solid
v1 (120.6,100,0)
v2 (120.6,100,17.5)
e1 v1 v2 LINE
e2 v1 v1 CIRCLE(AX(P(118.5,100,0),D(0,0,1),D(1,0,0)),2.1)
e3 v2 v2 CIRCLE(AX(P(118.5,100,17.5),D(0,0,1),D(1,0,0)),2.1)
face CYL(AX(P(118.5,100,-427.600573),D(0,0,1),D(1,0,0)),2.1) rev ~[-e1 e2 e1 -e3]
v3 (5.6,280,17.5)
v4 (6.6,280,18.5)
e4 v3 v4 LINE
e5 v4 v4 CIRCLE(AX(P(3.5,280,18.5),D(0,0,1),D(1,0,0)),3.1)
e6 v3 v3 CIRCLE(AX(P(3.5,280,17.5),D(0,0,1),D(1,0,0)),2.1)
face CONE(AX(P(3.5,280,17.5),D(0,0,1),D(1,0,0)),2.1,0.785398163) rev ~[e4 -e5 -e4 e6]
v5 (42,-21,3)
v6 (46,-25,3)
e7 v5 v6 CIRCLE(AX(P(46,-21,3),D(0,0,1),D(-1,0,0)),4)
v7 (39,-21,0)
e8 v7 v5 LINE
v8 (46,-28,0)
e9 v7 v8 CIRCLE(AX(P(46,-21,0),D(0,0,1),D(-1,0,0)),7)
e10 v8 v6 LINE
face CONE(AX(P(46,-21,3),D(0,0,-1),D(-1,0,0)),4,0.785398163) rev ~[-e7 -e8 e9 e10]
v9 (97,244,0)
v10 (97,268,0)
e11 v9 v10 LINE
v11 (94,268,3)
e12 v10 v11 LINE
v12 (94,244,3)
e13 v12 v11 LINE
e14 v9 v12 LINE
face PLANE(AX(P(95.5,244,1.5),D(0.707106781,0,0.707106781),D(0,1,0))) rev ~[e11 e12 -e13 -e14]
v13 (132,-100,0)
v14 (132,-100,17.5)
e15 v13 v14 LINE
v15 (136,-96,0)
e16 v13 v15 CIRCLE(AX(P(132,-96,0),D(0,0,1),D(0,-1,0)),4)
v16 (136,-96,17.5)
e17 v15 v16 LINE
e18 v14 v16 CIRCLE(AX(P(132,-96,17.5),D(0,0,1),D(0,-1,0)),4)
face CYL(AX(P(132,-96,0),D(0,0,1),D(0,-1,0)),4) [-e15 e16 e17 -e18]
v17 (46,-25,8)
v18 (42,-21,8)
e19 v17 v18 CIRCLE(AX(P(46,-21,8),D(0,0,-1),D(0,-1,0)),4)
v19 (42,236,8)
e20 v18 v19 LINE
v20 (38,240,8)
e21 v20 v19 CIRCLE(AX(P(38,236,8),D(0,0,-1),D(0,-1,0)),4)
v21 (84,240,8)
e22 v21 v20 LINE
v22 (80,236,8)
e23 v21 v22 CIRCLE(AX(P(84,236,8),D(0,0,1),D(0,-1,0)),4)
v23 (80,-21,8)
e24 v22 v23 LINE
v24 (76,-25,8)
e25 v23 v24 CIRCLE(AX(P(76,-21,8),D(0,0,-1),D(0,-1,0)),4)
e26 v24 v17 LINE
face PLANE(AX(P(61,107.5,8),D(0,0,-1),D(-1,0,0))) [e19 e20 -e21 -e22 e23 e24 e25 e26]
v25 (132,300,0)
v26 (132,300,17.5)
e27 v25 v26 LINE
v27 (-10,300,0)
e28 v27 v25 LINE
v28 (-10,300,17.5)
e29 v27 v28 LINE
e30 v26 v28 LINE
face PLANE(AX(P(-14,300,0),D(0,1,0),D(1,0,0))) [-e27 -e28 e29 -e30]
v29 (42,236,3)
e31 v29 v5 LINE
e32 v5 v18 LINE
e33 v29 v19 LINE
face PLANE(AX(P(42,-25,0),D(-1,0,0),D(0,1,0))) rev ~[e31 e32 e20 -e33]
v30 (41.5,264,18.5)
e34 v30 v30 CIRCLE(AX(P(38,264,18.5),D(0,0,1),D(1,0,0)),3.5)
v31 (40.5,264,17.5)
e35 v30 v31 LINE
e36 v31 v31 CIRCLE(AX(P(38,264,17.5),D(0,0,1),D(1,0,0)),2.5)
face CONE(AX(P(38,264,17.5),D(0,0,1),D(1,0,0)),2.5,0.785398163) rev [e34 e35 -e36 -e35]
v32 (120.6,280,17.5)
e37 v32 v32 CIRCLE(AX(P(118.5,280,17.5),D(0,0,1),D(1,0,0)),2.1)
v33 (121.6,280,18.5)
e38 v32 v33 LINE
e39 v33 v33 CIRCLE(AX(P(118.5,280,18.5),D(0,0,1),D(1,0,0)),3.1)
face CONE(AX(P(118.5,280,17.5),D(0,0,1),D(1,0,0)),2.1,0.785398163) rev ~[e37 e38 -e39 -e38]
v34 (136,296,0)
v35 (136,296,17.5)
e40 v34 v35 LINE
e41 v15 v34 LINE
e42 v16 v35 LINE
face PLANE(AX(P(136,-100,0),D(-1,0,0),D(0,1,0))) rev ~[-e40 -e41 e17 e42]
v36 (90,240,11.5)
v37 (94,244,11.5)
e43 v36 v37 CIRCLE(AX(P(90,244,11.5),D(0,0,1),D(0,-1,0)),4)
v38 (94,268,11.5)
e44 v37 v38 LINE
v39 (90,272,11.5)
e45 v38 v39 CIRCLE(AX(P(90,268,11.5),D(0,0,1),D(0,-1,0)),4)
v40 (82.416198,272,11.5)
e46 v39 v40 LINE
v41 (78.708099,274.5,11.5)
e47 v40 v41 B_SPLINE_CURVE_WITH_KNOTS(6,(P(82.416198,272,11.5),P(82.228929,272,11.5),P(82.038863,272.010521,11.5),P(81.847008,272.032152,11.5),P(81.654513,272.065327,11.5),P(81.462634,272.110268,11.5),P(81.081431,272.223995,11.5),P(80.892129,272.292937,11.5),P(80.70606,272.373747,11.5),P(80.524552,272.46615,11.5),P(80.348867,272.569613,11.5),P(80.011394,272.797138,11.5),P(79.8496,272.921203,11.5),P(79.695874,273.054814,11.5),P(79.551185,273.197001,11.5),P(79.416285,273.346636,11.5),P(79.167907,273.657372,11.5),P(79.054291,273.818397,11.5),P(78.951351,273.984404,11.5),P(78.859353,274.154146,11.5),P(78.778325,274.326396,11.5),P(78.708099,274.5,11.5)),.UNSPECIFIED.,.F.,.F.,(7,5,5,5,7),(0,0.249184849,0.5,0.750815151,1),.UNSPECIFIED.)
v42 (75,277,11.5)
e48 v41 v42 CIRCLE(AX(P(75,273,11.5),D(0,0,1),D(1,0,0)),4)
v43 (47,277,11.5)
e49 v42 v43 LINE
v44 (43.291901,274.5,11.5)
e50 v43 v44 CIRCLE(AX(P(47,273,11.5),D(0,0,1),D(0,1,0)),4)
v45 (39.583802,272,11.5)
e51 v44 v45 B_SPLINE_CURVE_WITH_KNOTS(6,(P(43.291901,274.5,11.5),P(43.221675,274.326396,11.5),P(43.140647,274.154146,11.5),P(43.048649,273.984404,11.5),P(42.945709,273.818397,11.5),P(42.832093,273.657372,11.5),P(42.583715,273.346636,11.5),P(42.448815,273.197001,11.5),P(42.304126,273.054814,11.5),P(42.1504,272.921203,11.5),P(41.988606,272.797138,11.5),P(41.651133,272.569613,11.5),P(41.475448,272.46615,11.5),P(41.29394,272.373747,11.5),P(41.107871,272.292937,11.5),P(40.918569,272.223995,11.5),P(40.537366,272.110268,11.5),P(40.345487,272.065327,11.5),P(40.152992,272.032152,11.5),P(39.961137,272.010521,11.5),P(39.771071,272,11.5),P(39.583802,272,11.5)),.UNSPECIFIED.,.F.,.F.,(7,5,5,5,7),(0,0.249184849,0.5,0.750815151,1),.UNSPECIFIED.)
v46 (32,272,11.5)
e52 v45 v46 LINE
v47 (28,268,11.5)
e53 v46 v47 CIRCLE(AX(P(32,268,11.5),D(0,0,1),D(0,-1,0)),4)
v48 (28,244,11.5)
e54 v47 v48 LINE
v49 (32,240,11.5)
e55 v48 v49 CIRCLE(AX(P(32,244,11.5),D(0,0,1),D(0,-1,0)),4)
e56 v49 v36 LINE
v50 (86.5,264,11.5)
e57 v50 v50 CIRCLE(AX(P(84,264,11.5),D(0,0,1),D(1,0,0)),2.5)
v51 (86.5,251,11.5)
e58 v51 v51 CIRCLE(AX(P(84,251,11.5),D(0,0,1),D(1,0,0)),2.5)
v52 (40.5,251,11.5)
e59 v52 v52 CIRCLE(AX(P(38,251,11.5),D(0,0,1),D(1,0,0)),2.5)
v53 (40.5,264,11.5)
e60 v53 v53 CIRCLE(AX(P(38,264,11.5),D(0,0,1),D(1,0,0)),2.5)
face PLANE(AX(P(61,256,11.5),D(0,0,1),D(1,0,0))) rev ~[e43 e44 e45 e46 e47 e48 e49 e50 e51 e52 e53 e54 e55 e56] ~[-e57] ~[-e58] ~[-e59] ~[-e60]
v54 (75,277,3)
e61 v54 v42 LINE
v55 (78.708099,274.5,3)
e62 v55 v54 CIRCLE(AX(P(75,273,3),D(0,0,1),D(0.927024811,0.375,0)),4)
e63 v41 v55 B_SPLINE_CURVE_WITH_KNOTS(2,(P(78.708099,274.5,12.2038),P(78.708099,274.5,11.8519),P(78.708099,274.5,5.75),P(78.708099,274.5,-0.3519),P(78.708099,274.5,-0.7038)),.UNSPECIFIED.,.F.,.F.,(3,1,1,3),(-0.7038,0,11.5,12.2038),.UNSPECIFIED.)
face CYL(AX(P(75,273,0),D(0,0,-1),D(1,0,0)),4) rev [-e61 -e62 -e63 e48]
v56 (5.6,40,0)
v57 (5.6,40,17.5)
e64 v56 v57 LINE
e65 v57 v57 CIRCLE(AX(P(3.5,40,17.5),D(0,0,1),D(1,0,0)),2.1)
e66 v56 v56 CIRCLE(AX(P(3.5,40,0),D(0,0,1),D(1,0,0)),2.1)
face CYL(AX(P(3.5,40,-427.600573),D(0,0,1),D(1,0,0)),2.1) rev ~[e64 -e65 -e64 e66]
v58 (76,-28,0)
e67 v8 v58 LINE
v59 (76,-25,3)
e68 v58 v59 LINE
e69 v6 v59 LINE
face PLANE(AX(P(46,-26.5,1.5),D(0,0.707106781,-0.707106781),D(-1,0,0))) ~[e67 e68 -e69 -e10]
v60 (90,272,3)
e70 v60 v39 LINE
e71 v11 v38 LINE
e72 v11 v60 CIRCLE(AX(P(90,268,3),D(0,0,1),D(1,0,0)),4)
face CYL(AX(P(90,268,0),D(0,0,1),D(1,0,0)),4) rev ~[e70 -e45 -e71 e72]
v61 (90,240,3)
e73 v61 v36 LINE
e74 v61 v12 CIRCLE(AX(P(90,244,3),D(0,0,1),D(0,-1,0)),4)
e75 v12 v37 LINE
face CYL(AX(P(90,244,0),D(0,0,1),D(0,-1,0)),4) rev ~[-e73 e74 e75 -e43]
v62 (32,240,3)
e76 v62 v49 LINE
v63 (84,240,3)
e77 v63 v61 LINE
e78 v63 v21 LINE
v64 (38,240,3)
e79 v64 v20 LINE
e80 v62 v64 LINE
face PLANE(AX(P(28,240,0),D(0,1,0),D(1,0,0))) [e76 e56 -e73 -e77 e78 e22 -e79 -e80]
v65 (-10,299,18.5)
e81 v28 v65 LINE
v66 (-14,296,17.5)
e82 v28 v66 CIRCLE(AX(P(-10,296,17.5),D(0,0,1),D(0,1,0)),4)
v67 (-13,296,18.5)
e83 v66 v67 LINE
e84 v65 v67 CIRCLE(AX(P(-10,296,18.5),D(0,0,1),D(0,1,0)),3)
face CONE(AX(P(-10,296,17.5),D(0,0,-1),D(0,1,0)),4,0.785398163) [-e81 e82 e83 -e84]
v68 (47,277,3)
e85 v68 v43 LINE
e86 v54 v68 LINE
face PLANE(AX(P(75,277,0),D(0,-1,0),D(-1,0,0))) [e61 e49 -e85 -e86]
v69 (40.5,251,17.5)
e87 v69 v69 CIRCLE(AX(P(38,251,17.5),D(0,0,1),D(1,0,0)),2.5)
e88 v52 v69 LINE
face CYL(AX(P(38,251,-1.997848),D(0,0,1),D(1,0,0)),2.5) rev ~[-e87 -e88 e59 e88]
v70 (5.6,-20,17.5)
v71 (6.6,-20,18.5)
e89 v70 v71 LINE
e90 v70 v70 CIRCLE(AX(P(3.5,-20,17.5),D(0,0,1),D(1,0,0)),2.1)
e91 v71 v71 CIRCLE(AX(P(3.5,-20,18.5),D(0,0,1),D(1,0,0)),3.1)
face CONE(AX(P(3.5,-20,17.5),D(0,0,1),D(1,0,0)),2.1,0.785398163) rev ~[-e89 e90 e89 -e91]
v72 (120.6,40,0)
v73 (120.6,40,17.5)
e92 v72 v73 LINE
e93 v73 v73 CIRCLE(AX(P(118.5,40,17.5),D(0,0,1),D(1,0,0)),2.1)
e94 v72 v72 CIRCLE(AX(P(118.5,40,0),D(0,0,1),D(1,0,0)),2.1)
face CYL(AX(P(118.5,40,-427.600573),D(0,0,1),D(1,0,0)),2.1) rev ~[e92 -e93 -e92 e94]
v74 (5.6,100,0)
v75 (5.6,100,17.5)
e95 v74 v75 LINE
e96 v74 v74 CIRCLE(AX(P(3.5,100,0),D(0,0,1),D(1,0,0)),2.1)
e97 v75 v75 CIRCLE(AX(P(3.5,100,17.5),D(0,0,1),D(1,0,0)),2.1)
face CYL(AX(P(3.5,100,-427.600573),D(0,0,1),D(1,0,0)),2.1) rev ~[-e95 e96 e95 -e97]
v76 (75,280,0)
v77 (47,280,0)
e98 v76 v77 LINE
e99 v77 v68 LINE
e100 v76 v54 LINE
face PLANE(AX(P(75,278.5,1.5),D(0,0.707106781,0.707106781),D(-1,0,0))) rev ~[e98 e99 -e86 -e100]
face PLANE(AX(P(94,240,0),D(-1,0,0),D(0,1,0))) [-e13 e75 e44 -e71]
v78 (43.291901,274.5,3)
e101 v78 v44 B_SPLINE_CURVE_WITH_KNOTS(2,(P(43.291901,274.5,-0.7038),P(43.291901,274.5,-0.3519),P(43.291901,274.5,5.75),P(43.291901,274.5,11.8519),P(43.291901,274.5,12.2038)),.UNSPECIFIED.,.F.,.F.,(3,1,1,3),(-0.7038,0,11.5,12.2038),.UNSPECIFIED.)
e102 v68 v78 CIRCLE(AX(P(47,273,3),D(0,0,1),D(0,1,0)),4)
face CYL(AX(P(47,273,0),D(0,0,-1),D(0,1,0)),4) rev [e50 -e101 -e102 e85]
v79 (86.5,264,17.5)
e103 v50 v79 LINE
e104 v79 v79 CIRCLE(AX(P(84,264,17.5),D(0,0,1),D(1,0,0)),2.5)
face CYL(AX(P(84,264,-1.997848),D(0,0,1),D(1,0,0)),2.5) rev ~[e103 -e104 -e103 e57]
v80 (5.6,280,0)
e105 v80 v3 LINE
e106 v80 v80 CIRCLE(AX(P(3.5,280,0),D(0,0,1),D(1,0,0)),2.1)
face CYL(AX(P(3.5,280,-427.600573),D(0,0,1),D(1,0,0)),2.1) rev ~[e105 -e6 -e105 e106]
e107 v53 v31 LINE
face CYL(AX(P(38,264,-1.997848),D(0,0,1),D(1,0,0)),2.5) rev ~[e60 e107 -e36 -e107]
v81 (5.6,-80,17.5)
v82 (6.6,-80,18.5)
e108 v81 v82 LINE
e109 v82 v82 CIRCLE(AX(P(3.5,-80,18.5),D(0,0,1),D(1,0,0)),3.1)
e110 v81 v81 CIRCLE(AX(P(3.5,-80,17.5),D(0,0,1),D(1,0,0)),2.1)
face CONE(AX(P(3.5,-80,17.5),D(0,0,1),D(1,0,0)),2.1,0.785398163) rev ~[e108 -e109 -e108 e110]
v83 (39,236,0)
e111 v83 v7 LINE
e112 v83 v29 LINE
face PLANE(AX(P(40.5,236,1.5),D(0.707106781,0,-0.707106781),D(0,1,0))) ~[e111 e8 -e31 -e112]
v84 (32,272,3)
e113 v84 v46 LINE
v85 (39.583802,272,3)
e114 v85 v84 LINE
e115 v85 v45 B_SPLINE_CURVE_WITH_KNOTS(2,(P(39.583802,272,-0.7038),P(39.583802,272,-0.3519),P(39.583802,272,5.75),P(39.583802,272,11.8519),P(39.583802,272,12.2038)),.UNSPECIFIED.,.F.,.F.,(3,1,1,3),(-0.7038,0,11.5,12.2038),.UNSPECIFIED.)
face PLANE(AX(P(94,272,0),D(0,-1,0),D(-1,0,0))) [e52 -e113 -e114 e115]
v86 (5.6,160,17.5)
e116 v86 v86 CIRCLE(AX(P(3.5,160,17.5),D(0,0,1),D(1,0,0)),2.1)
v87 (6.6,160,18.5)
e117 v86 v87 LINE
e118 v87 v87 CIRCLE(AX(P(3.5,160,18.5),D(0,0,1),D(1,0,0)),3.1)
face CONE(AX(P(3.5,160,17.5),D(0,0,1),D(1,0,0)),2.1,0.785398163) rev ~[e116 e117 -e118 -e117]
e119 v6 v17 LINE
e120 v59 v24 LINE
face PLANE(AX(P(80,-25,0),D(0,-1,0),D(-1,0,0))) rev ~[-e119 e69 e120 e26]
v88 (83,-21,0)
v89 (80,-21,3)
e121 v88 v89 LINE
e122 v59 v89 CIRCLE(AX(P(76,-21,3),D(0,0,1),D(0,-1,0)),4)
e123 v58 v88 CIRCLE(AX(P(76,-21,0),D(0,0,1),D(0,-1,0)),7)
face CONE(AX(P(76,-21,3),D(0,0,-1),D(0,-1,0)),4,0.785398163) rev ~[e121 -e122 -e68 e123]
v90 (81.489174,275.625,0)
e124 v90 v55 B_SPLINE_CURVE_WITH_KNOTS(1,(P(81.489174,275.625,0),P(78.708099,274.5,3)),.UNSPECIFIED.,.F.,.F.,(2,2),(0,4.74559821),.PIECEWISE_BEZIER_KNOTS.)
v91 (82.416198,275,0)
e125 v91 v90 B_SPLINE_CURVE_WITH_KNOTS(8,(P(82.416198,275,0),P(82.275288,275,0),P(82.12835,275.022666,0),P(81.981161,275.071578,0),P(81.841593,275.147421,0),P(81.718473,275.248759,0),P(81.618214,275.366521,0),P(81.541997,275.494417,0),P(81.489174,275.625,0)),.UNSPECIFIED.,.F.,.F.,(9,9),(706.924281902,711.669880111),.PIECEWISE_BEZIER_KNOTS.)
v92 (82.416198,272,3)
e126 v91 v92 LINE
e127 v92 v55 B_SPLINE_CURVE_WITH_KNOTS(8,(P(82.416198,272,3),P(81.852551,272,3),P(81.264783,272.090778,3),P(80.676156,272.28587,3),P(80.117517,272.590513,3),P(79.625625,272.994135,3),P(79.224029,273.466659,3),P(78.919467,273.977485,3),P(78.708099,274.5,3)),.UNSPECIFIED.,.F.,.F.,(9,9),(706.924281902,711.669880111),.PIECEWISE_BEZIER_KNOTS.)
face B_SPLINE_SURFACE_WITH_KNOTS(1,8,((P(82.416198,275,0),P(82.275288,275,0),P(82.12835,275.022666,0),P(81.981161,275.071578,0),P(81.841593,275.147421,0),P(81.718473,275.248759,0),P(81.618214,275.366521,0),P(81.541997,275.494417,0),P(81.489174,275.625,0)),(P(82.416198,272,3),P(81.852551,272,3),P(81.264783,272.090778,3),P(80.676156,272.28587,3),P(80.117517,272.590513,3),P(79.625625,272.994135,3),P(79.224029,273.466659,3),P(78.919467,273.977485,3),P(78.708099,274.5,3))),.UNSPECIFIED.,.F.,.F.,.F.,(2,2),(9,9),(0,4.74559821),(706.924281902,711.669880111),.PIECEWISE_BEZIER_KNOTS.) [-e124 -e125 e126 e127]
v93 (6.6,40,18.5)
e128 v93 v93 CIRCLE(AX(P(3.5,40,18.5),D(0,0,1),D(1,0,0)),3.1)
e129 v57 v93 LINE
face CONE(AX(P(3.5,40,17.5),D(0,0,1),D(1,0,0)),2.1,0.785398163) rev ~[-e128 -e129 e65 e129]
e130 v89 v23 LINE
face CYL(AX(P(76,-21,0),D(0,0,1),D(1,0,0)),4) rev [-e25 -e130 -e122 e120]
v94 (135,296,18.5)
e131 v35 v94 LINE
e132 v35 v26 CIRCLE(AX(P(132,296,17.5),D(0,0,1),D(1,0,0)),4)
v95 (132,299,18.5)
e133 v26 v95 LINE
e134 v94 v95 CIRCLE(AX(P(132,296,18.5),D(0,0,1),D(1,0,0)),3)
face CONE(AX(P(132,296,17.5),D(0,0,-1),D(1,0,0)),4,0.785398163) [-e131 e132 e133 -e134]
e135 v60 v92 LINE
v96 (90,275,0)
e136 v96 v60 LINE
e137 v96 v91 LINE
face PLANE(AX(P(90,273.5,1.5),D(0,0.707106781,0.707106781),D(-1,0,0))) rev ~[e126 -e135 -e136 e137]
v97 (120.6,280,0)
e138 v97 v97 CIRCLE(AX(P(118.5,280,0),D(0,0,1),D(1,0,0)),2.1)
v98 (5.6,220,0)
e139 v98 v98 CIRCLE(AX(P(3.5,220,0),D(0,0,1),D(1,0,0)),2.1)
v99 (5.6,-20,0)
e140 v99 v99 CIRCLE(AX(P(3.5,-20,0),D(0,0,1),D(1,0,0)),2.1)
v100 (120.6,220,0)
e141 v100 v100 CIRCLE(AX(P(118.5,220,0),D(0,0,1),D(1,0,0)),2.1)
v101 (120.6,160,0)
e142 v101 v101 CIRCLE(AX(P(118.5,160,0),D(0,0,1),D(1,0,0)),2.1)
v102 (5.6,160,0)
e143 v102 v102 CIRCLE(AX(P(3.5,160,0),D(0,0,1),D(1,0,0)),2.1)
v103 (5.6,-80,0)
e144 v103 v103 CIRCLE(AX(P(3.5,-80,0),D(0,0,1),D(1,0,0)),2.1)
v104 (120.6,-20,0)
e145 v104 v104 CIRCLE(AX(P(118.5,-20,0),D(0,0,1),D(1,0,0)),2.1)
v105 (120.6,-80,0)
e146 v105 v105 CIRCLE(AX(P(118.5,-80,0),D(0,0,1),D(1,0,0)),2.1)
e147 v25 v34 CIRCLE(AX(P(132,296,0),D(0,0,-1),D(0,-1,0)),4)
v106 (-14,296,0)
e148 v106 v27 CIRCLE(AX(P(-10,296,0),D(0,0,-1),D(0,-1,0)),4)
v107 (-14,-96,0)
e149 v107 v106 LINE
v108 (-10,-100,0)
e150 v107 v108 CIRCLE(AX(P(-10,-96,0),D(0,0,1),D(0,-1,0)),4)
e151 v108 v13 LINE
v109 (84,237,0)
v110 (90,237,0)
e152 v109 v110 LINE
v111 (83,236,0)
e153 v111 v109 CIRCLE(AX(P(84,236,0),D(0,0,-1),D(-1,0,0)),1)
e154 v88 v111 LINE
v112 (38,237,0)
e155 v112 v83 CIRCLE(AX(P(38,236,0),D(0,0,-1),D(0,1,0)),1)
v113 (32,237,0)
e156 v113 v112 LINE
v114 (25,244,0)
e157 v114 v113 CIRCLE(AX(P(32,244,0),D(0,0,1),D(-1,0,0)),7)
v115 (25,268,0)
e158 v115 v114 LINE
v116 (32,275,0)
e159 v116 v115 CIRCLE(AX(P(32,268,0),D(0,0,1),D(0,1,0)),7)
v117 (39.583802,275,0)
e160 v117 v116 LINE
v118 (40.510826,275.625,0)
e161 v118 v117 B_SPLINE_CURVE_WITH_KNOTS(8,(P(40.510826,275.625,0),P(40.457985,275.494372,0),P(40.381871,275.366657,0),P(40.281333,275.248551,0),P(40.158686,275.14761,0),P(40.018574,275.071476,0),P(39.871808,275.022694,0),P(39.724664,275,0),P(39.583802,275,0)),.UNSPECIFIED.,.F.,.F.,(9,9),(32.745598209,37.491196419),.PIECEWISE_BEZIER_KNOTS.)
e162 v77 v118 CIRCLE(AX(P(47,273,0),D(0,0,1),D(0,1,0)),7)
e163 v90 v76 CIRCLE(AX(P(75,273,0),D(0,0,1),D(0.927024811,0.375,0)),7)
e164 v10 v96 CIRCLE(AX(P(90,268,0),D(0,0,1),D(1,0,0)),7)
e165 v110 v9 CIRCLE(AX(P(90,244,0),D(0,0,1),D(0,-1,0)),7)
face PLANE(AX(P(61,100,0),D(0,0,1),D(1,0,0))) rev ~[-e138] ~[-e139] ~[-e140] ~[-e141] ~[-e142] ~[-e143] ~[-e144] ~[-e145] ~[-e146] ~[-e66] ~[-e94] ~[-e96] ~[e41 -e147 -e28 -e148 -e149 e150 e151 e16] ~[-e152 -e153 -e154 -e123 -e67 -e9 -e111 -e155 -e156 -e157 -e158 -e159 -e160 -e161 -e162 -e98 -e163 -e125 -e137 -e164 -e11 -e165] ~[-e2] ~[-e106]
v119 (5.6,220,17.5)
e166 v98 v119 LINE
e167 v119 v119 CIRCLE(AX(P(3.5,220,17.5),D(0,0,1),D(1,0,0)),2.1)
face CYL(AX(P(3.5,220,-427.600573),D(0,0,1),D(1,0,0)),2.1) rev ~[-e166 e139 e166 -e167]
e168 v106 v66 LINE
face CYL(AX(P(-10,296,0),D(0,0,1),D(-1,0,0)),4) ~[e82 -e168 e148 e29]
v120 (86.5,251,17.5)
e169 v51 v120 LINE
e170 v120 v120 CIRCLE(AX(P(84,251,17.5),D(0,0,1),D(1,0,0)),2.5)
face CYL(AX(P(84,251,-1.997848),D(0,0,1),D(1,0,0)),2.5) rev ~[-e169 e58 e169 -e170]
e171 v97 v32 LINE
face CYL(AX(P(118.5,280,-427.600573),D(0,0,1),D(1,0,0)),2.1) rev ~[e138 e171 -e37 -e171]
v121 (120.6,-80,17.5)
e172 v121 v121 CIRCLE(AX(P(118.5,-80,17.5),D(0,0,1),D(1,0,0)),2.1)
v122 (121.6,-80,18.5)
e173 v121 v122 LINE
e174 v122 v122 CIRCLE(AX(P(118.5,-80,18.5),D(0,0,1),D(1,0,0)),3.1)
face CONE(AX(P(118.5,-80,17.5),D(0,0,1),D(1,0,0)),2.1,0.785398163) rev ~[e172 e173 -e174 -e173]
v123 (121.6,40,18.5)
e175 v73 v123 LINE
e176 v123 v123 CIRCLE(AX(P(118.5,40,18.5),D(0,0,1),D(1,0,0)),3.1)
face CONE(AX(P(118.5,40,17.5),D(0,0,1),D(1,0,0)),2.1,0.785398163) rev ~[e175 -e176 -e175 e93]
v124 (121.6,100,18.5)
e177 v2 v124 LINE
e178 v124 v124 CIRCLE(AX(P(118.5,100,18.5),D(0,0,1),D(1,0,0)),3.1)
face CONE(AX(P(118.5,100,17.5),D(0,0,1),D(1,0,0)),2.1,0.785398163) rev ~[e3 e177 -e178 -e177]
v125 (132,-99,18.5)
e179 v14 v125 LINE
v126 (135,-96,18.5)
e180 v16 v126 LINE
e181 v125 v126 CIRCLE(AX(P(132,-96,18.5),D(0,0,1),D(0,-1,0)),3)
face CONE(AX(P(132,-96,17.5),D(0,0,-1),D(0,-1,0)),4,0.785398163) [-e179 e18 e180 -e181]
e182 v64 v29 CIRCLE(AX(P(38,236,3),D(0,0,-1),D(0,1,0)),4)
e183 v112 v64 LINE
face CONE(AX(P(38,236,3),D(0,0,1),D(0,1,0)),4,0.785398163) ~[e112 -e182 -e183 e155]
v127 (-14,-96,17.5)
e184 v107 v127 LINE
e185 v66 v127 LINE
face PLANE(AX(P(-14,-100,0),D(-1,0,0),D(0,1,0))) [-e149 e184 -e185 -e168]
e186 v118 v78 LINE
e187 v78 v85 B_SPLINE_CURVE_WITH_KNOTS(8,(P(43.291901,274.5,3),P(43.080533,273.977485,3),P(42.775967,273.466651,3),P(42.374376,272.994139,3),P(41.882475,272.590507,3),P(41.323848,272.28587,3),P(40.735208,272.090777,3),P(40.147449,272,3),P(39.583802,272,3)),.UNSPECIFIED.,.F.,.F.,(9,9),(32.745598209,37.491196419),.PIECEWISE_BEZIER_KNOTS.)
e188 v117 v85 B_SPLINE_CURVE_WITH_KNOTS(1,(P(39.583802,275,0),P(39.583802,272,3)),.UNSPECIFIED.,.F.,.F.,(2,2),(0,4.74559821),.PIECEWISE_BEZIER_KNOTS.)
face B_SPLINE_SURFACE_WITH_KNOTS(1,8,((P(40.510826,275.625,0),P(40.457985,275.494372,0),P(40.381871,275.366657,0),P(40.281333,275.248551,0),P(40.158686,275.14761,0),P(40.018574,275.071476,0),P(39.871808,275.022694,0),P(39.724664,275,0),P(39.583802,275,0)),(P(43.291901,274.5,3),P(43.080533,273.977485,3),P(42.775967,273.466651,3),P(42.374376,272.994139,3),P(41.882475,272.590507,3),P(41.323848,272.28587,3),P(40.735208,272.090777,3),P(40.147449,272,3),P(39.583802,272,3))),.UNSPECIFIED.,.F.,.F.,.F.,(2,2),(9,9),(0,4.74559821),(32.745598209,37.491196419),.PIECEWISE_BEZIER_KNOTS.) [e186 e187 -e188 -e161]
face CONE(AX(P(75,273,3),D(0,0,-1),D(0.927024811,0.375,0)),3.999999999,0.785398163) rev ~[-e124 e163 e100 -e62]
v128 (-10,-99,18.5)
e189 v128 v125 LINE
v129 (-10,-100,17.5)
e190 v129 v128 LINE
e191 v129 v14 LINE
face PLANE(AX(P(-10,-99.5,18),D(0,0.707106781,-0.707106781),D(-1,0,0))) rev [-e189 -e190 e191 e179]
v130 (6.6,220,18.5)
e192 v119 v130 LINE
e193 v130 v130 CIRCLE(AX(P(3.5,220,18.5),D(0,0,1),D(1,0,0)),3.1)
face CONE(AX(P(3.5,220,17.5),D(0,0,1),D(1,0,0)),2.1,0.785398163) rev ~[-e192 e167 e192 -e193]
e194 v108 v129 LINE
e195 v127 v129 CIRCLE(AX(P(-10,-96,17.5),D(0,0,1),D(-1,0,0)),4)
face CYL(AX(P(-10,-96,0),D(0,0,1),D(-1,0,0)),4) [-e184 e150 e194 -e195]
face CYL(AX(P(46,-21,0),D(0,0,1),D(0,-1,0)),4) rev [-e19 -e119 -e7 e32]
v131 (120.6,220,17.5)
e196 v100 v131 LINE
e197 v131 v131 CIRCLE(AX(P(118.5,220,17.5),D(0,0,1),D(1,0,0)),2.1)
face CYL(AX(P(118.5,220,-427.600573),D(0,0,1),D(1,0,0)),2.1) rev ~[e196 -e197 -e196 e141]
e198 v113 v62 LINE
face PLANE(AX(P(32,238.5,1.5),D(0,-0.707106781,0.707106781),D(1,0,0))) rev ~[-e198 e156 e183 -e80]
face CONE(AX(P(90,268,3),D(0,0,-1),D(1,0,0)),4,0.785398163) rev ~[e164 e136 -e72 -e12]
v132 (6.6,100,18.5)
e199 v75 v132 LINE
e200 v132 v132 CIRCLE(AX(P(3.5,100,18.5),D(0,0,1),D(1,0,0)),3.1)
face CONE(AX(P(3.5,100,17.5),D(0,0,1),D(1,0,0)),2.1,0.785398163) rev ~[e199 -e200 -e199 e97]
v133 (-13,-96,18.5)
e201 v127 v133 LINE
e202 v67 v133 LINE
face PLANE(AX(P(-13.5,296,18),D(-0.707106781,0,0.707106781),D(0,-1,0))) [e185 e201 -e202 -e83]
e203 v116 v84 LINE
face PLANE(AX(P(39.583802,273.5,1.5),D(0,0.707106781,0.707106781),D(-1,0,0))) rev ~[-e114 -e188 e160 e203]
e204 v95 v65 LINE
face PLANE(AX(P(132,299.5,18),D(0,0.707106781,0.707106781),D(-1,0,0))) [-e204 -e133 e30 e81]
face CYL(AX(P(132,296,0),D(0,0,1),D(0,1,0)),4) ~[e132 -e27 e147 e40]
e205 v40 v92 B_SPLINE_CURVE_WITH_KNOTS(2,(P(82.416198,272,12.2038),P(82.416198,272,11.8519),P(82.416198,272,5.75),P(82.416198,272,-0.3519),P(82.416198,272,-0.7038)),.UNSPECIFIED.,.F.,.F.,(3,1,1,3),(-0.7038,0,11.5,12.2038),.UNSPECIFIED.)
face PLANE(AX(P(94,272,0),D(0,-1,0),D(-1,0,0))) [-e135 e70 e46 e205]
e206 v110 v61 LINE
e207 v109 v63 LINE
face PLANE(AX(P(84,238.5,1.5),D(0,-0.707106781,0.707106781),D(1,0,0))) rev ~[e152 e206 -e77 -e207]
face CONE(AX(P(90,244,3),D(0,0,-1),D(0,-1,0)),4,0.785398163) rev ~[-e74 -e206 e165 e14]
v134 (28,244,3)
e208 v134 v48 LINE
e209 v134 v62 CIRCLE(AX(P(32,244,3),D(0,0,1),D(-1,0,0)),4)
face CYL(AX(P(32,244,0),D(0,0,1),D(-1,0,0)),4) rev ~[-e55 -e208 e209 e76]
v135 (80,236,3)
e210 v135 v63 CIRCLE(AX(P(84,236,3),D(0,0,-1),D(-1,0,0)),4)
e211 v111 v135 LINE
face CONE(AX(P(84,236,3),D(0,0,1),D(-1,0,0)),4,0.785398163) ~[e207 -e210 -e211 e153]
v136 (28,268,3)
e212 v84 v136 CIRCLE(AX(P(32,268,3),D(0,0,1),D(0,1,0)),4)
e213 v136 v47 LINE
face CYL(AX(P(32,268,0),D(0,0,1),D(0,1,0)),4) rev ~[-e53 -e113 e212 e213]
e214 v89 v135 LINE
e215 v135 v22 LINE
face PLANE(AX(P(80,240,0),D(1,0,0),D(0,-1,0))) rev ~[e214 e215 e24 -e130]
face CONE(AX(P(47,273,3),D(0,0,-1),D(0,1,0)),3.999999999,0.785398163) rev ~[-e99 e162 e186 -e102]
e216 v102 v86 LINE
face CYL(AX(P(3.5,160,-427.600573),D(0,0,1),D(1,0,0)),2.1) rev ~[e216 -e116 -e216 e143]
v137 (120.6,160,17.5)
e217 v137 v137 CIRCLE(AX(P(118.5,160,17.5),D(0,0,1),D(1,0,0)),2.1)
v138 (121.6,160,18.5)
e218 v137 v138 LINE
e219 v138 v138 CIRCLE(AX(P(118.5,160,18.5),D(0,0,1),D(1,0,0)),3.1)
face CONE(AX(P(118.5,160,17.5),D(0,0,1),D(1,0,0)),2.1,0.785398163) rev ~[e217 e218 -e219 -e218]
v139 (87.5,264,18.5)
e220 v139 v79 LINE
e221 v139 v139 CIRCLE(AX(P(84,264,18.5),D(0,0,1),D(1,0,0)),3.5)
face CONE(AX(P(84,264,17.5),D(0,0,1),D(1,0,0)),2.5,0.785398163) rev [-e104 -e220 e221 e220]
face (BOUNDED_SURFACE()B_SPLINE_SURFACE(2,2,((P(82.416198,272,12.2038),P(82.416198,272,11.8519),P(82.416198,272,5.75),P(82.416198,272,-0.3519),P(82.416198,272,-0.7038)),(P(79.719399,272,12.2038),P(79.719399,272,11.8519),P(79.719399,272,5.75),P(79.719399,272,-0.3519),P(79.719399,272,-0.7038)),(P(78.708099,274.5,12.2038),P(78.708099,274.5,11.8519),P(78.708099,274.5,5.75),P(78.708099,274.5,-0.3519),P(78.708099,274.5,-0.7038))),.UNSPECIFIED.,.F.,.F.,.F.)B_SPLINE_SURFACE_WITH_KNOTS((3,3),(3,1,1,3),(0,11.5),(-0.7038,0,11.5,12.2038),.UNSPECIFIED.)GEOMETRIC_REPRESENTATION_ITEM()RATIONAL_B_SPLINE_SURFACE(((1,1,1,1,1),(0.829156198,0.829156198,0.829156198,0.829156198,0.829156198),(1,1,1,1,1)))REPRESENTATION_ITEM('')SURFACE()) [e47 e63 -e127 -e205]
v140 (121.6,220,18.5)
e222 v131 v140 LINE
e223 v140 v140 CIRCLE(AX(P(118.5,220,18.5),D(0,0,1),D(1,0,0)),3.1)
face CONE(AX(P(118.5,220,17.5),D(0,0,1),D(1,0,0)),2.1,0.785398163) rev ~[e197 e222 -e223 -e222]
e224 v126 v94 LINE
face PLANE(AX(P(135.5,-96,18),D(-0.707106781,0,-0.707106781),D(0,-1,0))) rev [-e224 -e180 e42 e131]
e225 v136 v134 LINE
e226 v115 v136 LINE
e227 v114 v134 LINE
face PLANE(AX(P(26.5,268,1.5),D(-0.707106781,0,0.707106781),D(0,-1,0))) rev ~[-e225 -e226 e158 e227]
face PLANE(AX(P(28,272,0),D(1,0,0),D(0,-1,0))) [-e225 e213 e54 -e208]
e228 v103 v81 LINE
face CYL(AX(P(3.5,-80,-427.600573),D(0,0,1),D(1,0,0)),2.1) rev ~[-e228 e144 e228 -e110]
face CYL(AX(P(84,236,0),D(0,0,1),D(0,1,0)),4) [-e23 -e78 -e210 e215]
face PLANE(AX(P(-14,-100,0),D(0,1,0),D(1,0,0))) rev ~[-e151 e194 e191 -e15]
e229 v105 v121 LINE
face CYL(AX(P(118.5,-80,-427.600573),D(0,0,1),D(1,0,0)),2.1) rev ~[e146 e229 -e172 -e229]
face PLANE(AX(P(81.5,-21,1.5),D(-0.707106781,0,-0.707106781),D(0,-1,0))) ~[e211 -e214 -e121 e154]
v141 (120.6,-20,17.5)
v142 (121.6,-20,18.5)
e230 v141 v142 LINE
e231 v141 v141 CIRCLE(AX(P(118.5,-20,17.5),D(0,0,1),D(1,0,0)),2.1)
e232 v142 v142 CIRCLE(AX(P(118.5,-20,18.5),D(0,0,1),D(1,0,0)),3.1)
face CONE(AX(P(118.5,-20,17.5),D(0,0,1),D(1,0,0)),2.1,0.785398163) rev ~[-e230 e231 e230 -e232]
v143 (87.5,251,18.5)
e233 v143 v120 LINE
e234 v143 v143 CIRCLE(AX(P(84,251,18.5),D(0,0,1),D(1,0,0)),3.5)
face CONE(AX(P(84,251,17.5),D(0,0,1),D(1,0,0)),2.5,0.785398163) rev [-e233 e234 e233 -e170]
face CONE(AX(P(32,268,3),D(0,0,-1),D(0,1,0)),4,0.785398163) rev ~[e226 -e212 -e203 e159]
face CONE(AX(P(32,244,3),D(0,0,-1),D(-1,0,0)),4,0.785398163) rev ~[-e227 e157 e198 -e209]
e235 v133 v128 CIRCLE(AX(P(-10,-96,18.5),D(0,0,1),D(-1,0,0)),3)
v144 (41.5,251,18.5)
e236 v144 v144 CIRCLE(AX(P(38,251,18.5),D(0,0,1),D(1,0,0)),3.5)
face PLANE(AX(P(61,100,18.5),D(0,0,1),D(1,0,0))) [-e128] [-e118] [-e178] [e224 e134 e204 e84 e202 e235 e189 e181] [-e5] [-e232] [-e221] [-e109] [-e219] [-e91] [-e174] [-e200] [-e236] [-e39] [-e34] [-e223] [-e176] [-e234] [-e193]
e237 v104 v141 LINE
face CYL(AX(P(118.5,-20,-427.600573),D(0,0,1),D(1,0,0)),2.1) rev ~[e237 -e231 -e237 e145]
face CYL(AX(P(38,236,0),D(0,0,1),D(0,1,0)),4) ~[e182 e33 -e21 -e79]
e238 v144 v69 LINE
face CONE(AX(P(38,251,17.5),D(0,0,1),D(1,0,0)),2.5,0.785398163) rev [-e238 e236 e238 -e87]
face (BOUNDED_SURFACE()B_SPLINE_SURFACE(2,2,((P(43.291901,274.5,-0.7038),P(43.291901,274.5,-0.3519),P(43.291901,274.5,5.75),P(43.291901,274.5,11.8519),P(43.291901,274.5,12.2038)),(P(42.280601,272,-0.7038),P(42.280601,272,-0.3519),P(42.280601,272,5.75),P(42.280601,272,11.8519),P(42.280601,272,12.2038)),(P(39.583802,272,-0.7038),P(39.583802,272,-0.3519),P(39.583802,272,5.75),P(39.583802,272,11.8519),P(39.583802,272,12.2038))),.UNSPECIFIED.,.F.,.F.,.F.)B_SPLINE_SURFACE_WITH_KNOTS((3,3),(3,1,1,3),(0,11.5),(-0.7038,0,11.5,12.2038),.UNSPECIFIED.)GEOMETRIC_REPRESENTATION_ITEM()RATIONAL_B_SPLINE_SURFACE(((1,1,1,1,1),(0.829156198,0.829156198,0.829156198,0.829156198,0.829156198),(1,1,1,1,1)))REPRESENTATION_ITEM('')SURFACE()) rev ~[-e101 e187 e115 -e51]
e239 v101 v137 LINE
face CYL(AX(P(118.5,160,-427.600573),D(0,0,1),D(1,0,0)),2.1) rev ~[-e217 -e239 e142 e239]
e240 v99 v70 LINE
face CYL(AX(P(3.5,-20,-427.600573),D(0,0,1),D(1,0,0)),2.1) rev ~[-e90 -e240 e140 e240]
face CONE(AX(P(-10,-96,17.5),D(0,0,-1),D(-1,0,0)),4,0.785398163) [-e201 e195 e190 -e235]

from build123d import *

# Parameters (mm, degrees)
SKETCH1_W                 = 150
SKETCH1_H                 = 400
BOSS_EXTRUDE1_DEPTH       = 18.5
CUT_EXTRUDE1_DEPTH        = 11.5
FILLET1_R                 = 4
CUT_EXTRUDE3_DEPTH        = 8
M6X1_0_TAPPED_HOLE1_D     = 5
M6X1_0_TAPPED_HOLE1_DEPTH = 13.497848452
M6X1_0_TAPPED_HOLE1_TIP   = 1.502151548
CUT_EXTRUDE4_DEPTH        = 11.5
FILLET3_R                 = 4
M5X0_8_TAPPED_HOLE1_D     = 4.2
FILLET5_R                 = 4
CHAMFER2_SIZE             = 1
FILLET6_R                 = 4
CHAMFER3_SIZE             = 3


with BuildPart() as part:
    # Sketch1 → Boss-Extrude1 (new body)
    with BuildSketch(Plane.XY):
        with Locations((61, 100)):
            Rectangle(SKETCH1_W, SKETCH1_H)
    extrude(amount=BOSS_EXTRUDE1_DEPTH)

    # Sketch2 → Cut-Extrude1 (cut)
    with BuildSketch(Plane.XY):
        Polygon((61, 272), (28, 272), (28, 270), (28, 240), (94, 240), (94, 270), (94, 272), align=None)
    extrude(amount=CUT_EXTRUDE1_DEPTH, mode=Mode.SUBTRACT)

    # Fillet1
    fillet1_edges = [part.edges().sort_by_distance(p)[0] for p in [
        (28, 240, 5.75),
        (94, 240, 5.75),
    ]]
    fillet(fillet1_edges, radius=FILLET1_R)

    # Sketch6 → Cut-Extrude3 (cut)
    with BuildSketch(Plane(origin=(0, 0, 0), x_dir=(-1, 0, 0), z_dir=(0, 0, -1))):
        Polygon((-46, 240), (-76, 240), (-79, 240), (-80, 240), (-80, 50), (-80, 44), (-80, -9), (-80, -25), (-42, -25), (-42, -9), (-42, 44), (-42, 50), (-42, 240), (-43, 240), align=None)
    extrude(amount=-CUT_EXTRUDE3_DEPTH, mode=Mode.SUBTRACT)

    # M6x1.0 Tapped Hole1
    with Locations(Plane(origin=(0, 0, 11.5), x_dir=(-1, 0, 0), z_dir=(0, 0, -1))):
        with Locations((-84, 264), (-38, 264), (-38, 251), (-84, 251)):
            Hole(M6X1_0_TAPPED_HOLE1_D / 2, depth=M6X1_0_TAPPED_HOLE1_DEPTH)
            with Locations((0, 0, -(M6X1_0_TAPPED_HOLE1_DEPTH + M6X1_0_TAPPED_HOLE1_TIP / 2))):  # 118° drill point
                Cone(0, M6X1_0_TAPPED_HOLE1_D / 2, M6X1_0_TAPPED_HOLE1_TIP, mode=Mode.SUBTRACT)

    # Sketch11 → Cut-Extrude4 (cut)
    with BuildSketch(Plane(origin=(0, 0, 0), x_dir=(-1, 0, 0), z_dir=(0, 0, -1))):
        with BuildLine():
            Line((-61, 262), (-79, 262))
            Line((-79, 262), (-79, 273))
            ThreePointArc((-79, 273), (-77.828427125, 275.828427125), (-75, 277))
            Line((-75, 277), (-47, 277))
            ThreePointArc((-47, 277), (-44.171572875, 275.828427125), (-43, 273))
            Line((-43, 273), (-43, 262))
            Line((-43, 262), (-61, 262))
        make_face()
    extrude(amount=-CUT_EXTRUDE4_DEPTH, mode=Mode.SUBTRACT)

    # Fillet3
    fillet3_edges = [part.edges().sort_by_distance(p)[0] for p in [
        (28, 272, 5.75),
        (94, 272, 5.75),
        (43, 272, 5.75),
        (79, 272, 5.75),
    ]]
    fillet(fillet3_edges, radius=FILLET3_R)

    # M5x0.8 Tapped Hole1 (through all)
    with Locations(Plane(origin=(0, 0, 0), x_dir=(-1, 0, 0), z_dir=(0, 0, -1))):
        with Locations((-118.5, 280), (-3.5, 280), (-118.5, 220), (-3.5, 220), (-3.5, 160), (-118.5, 160), (-118.5, 100), (-3.5, 100), (-3.5, 40), (-118.5, 40), (-3.5, -20), (-118.5, -20), (-118.5, -80), (-3.5, -80)):
            Hole(M5X0_8_TAPPED_HOLE1_D / 2)

    # Fillet5
    fillet5_edges = [part.edges().sort_by_distance(p)[0] for p in [
        (-14, 300, 9.25),
        (136, 300, 9.25),
        (136, -100, 9.25),
        (-14, -100, 9.25),
    ]]
    fillet(fillet5_edges, radius=FILLET5_R)

    # Chamfer2
    chamfer2_edges = [part.edges().sort_by_distance(p)[0] for p in [
        (1.4, -80, 18.5),
        (116.4, -80, 18.5),
        (116.4, -20, 18.5),
        (1.4, -20, 18.5),
        (116.4, 40, 18.5),
        (1.4, 40, 18.5),
        (1.4, 100, 18.5),
        (116.4, 100, 18.5),
        (116.4, 160, 18.5),
        (1.4, 160, 18.5),
        (1.4, 220, 18.5),
        (116.4, 220, 18.5),
        (1.4, 280, 18.5),
        (116.4, 280, 18.5),
        (61, -100, 18.5),
        (-14, 100, 18.5),
        (136, 100, 18.5),
        (61, 300, 18.5),
        (-12.828427125, 298.828427125, 18.5),
        (134.828427125, 298.828427125, 18.5),
        (134.828427125, -98.828427125, 18.5),
        (-12.828427125, -98.828427125, 18.5),
        (81.5, 251, 18.5),
        (35.5, 251, 18.5),
        (35.5, 264, 18.5),
        (81.5, 264, 18.5),
    ]]
    chamfer(chamfer2_edges, length=CHAMFER2_SIZE)

    # Fillet6
    fillet6_edges = [part.edges().sort_by_distance(p)[0] for p in [
        (42, 240, 4),
        (42, -25, 4),
        (80, -25, 4),
        (80, 240, 4),
    ]]
    fillet(fillet6_edges, radius=FILLET6_R)

    # Chamfer3
    chamfer3_edges = [part.edges().sort_by_distance(p)[0] for p in [
        (61, 277, 0),
        (77.236067977, 276.31662479, 0),
        (44.763932023, 276.31662479, 0),
        (86.208099244, 272, 0),
        (35.791900756, 272, 0),
        (28, 256, 0),
        (80.18013051, 272.68337521, 0),
        (41.81986949, 272.68337521, 0),
        (29.171572875, 270.828427125, 0),
        (92.828427125, 270.828427125, 0),
        (35, 240, 0),
        (94, 256, 0),
        (92.828427125, 241.171572875, 0),
        (29.171572875, 241.171572875, 0),
        (87, 240, 0),
        (42, 107.5, 0),
        (61, -25, 0),
        (80, 107.5, 0),
        (81.171572875, 238.828427125, 0),
        (40.828427125, 238.828427125, 0),
        (43.171572875, -23.828427125, 0),
        (78.828427125, -23.828427125, 0),
    ]]
    chamfer(chamfer3_edges, length=CHAMFER3_SIZE)


solid = part.part
